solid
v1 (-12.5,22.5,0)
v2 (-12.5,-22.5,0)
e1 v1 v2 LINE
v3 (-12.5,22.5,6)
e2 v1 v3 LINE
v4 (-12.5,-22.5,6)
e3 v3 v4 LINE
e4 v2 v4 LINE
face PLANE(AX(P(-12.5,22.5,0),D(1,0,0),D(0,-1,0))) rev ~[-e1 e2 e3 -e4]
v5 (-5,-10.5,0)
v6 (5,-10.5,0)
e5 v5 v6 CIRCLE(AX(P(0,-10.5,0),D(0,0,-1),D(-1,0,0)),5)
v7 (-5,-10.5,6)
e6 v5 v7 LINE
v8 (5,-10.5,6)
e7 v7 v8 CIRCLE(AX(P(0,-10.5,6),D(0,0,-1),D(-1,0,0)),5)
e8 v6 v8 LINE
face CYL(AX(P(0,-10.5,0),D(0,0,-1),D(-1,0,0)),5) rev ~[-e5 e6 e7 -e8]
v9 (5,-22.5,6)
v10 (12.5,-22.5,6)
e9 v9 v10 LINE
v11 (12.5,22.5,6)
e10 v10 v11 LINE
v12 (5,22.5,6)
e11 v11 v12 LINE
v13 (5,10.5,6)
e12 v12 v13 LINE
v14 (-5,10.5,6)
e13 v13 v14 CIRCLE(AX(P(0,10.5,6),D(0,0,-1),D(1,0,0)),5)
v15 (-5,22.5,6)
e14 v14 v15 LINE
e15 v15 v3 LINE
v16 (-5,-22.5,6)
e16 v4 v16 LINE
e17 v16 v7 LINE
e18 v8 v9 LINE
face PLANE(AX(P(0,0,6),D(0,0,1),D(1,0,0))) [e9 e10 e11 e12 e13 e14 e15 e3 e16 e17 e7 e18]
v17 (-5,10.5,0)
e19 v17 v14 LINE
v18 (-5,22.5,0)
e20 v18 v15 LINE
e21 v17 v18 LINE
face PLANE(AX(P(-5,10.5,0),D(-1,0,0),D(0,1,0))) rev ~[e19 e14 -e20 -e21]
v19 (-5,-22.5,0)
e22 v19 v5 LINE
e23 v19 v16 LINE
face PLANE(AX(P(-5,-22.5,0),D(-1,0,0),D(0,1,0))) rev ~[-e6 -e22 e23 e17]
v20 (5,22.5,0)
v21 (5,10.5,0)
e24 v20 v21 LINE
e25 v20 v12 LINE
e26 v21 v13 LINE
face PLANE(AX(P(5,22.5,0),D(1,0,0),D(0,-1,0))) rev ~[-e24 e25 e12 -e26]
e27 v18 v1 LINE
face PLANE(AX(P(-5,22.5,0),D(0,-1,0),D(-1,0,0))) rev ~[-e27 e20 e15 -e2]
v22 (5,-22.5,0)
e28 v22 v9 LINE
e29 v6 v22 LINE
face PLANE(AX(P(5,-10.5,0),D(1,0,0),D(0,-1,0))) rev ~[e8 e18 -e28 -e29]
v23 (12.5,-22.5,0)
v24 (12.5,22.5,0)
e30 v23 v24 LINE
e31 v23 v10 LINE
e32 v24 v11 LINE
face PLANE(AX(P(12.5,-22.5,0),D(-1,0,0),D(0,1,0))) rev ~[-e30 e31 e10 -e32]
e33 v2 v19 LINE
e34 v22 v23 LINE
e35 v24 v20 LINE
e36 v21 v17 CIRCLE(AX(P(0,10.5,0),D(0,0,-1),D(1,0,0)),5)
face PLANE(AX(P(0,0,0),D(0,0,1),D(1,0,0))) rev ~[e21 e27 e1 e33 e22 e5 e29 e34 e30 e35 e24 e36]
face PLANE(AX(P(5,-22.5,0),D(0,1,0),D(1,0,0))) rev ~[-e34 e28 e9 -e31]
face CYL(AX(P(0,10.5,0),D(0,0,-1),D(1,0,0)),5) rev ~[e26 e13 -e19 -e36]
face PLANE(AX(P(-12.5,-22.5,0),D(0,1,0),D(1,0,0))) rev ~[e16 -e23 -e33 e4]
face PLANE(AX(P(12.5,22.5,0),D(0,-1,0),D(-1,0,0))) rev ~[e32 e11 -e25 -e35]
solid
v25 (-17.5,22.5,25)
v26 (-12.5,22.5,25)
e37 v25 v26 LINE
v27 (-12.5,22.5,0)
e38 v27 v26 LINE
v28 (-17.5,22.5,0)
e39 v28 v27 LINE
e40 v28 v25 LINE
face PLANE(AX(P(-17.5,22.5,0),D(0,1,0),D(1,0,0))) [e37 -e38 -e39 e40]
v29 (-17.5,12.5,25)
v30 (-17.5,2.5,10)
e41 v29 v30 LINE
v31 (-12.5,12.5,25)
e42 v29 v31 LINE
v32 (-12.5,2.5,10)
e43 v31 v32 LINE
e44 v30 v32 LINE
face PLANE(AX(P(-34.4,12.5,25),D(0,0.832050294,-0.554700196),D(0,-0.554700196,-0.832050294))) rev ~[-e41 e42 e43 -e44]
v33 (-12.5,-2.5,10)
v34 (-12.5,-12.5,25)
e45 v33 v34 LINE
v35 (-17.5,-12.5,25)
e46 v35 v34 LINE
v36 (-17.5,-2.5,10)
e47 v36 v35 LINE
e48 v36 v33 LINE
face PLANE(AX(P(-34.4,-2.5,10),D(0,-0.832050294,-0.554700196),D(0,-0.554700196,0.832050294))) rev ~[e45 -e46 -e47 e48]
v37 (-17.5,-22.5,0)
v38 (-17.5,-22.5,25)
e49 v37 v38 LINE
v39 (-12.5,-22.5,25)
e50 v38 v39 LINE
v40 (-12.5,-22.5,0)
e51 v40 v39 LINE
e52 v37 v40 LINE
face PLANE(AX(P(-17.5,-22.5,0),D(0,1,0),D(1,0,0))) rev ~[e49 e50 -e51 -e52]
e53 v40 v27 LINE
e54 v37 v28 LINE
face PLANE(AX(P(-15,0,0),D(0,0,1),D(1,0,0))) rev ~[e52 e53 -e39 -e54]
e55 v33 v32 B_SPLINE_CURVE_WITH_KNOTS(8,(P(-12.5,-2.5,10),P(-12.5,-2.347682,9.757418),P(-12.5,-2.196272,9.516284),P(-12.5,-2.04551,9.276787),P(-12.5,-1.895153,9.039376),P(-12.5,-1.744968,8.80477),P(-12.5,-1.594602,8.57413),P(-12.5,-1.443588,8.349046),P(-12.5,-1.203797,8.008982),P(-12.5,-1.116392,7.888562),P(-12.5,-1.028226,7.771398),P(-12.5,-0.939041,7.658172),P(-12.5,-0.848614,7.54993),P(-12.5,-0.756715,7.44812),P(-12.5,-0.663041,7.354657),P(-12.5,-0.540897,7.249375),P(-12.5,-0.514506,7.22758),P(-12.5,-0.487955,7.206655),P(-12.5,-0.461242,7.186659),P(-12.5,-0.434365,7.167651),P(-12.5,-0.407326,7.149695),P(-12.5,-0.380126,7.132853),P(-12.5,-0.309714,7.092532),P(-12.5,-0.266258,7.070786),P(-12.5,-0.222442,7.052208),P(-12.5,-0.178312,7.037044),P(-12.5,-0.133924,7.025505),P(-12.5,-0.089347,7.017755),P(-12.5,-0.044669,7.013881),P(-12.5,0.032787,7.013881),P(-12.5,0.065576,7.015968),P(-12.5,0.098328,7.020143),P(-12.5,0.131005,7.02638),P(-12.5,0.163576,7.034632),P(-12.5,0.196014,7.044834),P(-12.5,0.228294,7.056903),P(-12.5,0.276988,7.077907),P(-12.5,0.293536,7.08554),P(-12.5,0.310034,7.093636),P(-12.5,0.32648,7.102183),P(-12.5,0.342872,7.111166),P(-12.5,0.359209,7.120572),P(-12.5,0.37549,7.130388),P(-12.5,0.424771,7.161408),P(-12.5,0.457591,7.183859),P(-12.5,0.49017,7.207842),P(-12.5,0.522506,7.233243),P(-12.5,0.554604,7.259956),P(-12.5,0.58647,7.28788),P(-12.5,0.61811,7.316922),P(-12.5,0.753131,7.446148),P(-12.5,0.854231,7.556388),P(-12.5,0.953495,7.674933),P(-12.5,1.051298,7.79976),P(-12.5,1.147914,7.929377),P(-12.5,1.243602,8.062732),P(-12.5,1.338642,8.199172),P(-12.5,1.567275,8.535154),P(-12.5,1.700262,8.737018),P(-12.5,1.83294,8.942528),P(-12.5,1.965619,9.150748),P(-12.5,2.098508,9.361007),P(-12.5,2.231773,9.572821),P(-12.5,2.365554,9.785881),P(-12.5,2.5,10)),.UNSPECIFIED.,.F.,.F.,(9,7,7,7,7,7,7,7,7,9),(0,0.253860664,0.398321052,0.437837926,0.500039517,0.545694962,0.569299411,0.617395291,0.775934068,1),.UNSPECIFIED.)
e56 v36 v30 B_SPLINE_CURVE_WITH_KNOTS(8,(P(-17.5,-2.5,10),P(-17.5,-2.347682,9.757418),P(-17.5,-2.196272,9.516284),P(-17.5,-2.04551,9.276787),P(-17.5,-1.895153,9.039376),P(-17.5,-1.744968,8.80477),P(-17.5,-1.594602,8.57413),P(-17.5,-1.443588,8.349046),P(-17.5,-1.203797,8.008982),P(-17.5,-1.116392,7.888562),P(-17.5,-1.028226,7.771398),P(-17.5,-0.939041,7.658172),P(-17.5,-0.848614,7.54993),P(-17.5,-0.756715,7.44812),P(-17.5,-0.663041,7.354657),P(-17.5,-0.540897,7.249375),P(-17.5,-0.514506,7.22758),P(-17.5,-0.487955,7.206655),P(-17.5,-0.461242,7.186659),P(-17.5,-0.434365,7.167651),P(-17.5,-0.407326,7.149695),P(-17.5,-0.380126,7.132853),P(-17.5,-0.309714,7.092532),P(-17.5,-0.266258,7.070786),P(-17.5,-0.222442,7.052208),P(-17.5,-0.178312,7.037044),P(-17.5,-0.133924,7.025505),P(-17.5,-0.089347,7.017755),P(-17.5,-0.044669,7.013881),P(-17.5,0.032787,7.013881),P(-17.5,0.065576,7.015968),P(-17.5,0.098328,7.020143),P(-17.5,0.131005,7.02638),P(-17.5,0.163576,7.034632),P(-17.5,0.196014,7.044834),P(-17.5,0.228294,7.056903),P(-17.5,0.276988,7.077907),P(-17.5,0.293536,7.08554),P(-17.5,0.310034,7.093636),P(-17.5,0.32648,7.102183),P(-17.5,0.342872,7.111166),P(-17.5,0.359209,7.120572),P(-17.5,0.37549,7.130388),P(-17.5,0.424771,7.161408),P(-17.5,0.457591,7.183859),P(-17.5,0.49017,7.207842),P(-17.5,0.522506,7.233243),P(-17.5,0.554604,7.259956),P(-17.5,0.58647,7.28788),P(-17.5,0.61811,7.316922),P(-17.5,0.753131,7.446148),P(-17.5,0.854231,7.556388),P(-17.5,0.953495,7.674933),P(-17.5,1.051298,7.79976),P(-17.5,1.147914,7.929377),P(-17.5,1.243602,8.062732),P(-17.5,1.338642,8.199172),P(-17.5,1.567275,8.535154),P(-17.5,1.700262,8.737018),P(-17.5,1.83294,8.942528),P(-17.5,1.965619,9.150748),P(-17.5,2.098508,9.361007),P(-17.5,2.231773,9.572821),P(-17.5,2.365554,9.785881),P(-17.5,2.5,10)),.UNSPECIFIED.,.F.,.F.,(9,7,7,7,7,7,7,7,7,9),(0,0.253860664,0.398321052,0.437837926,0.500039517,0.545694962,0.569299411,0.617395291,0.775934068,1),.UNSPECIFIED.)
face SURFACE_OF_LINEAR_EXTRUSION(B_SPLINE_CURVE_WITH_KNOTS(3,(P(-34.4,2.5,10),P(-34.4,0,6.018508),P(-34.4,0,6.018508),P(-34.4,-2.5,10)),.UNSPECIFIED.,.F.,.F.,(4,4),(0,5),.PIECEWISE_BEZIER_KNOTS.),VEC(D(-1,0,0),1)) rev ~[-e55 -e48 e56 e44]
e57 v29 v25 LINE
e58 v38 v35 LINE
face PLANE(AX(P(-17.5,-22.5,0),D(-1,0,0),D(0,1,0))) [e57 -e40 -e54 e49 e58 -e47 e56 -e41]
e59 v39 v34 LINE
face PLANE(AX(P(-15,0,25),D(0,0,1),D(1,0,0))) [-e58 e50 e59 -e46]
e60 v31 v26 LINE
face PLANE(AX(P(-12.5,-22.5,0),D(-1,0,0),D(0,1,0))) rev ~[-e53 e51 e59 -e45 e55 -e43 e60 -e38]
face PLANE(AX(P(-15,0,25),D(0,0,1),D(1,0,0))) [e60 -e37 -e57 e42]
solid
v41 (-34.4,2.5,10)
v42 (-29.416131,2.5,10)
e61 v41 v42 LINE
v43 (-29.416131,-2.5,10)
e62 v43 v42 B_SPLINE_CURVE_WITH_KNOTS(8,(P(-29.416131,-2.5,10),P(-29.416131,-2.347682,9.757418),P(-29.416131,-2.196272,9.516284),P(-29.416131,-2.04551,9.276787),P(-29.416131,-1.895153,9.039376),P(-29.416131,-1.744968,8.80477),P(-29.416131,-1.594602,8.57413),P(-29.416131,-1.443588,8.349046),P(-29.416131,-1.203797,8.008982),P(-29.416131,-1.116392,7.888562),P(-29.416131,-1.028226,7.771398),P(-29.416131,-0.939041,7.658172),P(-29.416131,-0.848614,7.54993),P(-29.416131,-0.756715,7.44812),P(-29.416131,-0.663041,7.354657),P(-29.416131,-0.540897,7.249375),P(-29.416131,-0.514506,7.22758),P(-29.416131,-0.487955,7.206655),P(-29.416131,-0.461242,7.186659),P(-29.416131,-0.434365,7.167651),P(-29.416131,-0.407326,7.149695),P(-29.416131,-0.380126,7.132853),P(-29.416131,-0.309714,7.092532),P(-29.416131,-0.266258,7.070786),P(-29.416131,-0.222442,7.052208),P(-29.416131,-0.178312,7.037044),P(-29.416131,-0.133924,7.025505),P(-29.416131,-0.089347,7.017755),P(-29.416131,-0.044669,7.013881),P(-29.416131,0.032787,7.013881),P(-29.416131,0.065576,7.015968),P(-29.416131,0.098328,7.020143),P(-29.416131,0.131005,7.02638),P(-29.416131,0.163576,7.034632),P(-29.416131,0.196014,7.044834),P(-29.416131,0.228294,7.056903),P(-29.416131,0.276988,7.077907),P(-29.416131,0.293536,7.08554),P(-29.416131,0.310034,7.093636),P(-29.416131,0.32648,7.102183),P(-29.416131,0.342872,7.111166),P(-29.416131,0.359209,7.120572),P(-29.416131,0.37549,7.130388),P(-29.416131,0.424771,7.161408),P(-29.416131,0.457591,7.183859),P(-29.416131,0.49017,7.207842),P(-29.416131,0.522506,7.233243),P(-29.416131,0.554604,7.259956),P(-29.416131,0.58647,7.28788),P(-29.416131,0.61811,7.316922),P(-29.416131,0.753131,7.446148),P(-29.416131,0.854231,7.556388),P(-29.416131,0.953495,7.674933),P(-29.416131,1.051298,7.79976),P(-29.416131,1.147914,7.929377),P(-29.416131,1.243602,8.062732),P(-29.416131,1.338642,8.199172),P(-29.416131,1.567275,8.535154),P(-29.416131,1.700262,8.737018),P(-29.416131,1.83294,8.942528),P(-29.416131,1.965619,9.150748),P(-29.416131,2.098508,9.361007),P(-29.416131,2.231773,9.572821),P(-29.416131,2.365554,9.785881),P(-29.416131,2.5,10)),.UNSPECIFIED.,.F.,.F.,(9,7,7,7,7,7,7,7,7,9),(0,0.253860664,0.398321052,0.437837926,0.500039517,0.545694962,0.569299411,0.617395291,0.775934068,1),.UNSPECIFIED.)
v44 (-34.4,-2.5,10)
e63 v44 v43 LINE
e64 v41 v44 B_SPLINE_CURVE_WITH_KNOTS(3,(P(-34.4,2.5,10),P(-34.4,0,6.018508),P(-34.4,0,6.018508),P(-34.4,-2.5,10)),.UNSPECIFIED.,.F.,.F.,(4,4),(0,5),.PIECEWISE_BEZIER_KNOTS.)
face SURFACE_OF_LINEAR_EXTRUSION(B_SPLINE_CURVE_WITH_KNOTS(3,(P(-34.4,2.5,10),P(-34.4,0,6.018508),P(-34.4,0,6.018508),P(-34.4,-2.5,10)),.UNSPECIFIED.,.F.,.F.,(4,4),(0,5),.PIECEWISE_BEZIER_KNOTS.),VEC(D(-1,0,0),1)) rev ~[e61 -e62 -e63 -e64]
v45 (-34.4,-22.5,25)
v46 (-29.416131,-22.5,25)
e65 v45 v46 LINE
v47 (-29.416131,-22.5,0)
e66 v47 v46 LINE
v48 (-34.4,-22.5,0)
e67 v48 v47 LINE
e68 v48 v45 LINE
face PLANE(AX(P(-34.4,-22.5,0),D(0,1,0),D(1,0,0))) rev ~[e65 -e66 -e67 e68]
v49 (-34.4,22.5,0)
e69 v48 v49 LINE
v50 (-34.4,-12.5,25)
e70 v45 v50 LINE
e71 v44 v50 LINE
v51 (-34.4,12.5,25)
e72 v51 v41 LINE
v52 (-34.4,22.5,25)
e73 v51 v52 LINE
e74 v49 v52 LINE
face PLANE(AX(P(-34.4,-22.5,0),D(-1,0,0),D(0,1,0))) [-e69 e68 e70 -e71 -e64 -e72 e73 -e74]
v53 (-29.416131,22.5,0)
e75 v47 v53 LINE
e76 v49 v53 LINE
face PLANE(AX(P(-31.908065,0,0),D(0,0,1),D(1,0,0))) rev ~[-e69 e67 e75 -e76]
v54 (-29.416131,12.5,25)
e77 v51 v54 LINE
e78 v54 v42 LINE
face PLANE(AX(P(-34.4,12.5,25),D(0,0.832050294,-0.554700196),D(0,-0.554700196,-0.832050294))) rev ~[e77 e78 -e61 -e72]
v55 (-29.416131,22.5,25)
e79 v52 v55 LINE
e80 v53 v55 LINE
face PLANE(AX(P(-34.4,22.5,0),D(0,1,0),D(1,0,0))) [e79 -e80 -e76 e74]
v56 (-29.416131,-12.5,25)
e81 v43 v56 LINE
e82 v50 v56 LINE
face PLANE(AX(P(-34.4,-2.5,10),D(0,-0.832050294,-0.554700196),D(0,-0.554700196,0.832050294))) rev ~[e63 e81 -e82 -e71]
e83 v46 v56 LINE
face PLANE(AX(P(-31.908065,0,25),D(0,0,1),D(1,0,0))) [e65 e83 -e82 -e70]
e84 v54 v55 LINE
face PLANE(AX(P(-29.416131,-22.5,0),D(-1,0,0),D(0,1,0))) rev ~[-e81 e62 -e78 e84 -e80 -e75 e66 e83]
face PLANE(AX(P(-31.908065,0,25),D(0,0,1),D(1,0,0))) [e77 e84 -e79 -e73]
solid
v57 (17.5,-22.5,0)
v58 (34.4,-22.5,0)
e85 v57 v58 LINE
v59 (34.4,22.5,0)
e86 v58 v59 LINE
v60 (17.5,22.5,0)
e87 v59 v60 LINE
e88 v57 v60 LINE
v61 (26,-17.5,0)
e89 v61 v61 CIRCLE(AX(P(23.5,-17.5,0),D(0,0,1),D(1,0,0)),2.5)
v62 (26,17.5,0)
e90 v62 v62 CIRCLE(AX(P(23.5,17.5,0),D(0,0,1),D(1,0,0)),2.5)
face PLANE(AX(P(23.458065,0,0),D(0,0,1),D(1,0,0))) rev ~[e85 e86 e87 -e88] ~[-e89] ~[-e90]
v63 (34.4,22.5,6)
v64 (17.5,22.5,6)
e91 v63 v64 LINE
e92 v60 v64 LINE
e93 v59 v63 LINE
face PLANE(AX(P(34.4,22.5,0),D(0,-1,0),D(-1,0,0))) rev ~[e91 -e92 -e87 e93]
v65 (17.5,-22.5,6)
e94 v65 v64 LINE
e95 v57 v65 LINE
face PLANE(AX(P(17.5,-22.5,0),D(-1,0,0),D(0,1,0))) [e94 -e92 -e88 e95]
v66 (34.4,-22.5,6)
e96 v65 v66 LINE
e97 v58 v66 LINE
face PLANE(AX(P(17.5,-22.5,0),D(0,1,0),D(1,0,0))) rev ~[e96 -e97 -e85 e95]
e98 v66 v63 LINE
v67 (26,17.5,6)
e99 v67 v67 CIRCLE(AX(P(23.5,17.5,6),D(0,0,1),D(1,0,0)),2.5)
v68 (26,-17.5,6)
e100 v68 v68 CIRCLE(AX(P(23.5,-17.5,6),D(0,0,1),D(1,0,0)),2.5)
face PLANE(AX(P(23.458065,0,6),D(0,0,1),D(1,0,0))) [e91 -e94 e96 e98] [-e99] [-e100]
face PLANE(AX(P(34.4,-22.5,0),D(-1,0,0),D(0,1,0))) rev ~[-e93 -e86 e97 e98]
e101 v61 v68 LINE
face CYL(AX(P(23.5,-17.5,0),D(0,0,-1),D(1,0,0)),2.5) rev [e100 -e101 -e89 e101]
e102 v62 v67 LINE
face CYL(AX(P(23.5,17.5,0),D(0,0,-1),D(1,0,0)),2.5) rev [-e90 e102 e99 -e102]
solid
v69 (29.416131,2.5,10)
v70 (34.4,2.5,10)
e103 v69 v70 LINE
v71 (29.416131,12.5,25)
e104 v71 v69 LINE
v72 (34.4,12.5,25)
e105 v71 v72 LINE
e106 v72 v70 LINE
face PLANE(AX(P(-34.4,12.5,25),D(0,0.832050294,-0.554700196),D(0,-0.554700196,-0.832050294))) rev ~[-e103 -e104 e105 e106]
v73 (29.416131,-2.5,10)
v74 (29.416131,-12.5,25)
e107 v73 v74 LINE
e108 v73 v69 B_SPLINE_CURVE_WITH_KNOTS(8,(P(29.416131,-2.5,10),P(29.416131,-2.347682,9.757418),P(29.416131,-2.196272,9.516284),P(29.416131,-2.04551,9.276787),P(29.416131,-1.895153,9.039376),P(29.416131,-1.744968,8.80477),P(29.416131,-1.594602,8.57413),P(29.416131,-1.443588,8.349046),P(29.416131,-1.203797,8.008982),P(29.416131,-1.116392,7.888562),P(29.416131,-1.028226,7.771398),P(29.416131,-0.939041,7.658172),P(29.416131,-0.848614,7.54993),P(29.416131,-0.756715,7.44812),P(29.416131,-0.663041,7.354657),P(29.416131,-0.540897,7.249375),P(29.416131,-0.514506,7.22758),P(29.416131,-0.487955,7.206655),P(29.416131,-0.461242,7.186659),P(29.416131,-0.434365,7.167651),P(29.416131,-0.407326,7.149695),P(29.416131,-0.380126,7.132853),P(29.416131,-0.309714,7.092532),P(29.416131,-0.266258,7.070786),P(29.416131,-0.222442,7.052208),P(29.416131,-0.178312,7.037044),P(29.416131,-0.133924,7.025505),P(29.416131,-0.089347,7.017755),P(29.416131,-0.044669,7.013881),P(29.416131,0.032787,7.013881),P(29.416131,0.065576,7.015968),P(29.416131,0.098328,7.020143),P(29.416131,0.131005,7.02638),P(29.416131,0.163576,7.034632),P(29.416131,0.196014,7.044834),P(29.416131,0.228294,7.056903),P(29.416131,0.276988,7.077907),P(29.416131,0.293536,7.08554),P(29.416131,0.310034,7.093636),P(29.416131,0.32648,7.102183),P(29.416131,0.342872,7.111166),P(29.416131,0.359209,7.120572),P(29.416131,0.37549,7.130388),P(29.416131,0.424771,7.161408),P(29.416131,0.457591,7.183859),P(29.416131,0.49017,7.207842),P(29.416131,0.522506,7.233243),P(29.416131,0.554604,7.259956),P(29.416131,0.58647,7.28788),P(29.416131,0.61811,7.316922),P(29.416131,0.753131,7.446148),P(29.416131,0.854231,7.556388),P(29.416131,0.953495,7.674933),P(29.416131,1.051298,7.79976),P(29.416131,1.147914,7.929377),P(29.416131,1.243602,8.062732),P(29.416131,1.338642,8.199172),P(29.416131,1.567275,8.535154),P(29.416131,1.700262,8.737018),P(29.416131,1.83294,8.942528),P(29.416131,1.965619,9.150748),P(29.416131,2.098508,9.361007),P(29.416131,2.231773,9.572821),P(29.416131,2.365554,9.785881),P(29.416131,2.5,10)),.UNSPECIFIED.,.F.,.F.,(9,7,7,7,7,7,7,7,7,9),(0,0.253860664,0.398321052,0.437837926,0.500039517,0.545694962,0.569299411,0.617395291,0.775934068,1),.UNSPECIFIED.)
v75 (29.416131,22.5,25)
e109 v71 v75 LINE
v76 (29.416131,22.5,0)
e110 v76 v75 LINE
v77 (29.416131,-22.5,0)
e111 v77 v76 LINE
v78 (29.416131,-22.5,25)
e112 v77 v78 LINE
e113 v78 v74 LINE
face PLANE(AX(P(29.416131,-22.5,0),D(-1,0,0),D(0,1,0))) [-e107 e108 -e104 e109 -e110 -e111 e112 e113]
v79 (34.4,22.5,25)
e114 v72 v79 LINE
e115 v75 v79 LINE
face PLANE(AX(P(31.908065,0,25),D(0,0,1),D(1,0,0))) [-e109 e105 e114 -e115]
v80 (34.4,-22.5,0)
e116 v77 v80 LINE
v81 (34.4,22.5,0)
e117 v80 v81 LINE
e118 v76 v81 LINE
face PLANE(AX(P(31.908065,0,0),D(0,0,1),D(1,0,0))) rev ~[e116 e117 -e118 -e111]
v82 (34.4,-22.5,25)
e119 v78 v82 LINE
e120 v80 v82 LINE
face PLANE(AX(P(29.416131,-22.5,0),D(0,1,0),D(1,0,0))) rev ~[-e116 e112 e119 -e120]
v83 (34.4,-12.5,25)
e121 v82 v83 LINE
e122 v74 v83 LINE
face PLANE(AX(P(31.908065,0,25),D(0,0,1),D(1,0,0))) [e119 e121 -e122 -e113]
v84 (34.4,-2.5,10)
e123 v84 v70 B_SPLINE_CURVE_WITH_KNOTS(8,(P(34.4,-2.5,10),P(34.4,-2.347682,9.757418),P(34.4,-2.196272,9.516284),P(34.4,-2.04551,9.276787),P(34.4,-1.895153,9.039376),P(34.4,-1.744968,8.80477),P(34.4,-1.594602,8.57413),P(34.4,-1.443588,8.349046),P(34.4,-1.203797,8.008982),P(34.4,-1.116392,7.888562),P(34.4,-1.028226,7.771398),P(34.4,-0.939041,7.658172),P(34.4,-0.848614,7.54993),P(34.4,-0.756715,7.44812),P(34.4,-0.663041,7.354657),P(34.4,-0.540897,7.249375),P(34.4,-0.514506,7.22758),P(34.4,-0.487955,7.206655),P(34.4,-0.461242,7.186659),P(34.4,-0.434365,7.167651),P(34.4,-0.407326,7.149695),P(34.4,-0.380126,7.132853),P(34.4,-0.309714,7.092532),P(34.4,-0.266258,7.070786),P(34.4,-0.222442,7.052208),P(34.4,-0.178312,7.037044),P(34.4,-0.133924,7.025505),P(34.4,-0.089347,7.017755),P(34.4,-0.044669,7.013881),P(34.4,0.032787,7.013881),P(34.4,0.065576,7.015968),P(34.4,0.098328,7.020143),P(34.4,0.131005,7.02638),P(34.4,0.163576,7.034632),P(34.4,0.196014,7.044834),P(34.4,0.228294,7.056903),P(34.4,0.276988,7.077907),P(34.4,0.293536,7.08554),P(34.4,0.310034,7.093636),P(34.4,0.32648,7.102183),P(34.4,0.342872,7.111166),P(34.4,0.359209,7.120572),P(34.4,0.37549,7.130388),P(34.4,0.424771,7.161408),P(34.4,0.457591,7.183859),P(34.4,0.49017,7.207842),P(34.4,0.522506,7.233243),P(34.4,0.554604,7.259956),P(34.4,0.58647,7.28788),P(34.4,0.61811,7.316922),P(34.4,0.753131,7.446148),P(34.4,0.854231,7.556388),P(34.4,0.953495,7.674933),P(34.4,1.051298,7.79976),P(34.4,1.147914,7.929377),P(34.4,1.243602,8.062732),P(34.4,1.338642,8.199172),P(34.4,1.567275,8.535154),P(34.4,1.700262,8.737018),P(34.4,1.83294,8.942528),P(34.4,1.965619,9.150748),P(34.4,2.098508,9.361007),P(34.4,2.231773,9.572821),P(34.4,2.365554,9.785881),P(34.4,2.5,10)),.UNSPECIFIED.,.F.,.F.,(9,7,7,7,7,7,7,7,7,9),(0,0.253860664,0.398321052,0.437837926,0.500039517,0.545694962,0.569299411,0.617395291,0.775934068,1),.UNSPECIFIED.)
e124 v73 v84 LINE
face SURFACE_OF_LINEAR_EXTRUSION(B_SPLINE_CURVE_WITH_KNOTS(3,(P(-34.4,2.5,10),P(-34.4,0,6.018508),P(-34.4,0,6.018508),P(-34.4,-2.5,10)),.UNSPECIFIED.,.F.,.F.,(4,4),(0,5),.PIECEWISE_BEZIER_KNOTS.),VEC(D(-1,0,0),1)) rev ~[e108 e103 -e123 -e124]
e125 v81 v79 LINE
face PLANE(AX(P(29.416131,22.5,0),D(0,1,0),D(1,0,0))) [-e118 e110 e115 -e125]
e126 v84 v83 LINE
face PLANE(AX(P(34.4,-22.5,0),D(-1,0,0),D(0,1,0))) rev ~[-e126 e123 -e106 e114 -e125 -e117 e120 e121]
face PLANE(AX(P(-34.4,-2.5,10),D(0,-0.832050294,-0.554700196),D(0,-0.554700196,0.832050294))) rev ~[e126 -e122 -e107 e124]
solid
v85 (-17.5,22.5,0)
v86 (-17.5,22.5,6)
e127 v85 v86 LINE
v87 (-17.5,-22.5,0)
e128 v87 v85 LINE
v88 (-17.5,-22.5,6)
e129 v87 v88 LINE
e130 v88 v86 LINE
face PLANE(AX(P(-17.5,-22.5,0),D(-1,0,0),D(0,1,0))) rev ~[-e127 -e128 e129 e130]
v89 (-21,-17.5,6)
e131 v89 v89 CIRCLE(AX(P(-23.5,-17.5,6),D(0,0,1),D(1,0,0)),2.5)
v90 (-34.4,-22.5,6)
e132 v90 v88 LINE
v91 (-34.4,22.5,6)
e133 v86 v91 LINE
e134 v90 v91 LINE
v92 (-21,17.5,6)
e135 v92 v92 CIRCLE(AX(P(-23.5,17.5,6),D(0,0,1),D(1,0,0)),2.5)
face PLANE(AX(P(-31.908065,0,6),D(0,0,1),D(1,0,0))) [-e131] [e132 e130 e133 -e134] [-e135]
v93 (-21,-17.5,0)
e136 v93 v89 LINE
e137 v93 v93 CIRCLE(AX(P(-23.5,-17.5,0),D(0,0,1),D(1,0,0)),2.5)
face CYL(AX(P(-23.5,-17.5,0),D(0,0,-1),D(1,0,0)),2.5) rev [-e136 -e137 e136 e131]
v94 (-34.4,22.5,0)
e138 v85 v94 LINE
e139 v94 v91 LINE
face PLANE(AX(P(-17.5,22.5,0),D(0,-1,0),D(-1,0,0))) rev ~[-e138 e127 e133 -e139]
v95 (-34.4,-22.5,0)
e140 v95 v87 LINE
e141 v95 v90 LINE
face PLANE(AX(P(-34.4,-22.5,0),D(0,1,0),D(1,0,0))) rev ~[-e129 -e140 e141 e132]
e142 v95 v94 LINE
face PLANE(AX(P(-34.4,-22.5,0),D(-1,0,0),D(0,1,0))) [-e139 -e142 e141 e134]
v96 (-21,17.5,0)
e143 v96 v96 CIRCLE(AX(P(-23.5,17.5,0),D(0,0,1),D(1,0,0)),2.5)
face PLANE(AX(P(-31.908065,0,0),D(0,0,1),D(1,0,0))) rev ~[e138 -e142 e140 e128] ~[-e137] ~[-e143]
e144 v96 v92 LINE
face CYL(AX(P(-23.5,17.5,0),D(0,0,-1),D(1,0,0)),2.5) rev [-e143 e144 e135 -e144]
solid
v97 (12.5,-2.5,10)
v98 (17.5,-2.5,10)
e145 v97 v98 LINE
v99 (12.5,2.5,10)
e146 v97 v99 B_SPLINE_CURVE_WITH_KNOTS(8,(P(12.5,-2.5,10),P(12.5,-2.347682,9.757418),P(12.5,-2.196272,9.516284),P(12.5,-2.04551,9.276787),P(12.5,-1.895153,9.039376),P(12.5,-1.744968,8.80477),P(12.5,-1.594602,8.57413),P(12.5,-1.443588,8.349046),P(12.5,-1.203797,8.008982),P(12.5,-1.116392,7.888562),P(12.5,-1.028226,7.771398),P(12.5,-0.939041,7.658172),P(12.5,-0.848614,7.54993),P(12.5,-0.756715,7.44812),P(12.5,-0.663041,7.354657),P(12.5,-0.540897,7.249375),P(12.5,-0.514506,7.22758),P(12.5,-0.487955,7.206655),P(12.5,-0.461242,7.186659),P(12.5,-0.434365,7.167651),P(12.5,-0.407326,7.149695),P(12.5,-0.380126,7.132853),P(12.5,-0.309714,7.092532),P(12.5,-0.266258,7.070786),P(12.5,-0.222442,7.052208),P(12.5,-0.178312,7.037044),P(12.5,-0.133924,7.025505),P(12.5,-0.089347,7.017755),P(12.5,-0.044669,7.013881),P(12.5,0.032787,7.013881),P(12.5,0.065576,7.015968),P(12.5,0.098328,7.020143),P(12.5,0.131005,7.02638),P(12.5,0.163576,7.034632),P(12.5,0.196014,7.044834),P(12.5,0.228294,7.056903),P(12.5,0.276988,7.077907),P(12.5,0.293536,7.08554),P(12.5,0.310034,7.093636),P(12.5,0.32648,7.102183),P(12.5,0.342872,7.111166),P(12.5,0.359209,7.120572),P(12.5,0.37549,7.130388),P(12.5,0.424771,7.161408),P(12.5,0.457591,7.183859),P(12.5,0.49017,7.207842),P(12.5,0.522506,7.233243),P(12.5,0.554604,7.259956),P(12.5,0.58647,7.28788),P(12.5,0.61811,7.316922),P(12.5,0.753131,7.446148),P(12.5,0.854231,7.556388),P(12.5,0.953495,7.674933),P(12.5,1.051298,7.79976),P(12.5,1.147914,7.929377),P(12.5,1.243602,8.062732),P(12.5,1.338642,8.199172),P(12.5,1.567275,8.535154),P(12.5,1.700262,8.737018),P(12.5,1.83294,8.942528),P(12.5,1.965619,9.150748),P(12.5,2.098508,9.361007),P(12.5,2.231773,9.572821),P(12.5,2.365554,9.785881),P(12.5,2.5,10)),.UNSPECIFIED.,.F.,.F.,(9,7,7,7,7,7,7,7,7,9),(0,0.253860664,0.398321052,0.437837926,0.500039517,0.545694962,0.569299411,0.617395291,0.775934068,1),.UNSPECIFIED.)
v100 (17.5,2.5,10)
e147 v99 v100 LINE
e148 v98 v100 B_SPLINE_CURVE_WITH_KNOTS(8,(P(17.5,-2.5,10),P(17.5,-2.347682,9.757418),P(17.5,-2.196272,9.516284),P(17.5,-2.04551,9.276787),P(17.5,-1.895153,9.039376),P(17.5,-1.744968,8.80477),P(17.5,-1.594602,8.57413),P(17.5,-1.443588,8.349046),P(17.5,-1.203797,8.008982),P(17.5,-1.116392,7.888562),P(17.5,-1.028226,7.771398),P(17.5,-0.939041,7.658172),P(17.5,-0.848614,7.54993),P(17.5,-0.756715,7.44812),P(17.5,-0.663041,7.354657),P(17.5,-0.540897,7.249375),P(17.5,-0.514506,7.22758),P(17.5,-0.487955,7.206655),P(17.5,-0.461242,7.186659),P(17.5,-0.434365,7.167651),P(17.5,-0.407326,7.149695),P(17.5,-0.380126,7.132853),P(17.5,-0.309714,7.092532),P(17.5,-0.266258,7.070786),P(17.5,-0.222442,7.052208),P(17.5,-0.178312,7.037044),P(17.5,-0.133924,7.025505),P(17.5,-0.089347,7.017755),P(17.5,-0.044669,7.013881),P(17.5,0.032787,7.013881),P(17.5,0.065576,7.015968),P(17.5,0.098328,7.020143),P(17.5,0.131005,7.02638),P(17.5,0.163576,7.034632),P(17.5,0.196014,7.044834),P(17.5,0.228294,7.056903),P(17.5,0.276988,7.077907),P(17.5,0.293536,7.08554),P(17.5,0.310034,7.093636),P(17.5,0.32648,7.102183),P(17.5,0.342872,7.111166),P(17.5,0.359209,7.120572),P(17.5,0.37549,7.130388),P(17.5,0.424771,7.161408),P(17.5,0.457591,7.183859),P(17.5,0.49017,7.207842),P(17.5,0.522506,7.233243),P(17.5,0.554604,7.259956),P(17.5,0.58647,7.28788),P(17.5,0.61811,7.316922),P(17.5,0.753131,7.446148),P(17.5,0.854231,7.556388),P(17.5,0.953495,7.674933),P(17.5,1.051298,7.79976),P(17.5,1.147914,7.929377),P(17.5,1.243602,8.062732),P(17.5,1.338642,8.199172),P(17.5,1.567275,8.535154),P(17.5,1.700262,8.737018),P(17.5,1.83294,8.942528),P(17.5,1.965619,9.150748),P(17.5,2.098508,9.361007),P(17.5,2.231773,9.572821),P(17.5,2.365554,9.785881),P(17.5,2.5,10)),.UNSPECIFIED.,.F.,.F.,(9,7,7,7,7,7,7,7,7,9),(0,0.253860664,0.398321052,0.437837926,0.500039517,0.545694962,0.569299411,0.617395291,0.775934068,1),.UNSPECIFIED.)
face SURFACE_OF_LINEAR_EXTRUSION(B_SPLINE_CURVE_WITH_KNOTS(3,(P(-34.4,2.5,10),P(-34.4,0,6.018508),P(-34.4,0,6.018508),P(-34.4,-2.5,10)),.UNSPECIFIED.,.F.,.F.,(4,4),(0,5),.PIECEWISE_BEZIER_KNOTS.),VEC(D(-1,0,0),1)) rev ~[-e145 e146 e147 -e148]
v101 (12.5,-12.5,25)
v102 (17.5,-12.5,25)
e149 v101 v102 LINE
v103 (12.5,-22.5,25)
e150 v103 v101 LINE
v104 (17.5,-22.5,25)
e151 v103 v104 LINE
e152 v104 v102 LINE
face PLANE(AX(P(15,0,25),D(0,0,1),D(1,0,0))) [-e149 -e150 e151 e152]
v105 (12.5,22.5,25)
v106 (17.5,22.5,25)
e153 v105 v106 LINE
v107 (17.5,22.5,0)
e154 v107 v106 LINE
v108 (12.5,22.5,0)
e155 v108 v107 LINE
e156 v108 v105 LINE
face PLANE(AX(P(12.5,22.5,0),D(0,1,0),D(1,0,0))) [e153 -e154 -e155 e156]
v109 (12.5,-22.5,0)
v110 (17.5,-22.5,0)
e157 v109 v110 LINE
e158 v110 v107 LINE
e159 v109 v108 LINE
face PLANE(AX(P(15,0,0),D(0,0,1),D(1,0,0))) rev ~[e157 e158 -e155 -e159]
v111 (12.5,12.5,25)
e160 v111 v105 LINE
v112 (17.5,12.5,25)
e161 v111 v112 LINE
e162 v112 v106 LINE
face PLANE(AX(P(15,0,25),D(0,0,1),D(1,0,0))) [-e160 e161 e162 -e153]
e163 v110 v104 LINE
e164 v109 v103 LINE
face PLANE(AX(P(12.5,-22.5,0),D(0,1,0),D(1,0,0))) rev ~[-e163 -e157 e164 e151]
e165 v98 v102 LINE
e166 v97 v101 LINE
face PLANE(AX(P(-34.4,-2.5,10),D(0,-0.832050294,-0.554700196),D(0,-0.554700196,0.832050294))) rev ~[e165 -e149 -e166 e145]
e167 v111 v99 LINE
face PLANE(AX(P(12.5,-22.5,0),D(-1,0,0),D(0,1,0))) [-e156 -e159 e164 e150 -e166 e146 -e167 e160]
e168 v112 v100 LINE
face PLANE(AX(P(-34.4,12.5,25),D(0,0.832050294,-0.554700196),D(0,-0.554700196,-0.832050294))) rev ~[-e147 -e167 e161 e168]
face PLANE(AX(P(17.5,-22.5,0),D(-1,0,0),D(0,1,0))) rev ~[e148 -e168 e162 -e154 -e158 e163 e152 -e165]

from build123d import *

# Parameters (mm, degrees)
F0_W     = 4.9838690698
F0_H     = 45
F0_W_2   = 11.9161309302
F0_R     = 2.5
F1_DEPTH = 6
F2_DEPTH = 25
F0_W_3   = 5
F4_DEPTH = 68.801


with BuildPart() as f1:
    # F0 (on Top) → F1 (new body)
    with BuildSketch(Plane.XY):
        with Locations((-31.9080654651, 0)):
            Rectangle(F0_W, F0_H)
        with Locations((-23.4580654651, 0)):
            Rectangle(F0_W_2, F0_H)
        with Locations((-23.5, -17.5)):
            Circle(F0_R, mode=Mode.SUBTRACT)
        with Locations((-23.5, 17.5)):
            Circle(F0_R, mode=Mode.SUBTRACT)
    extrude(amount=F1_DEPTH)


with BuildPart() as f1b:
    # F0 (on Top) → F1, piece 2 (new body)
    with BuildSketch(Plane.XY):
        with BuildLine():
            Line((5, -22.5), (12.5, -22.5))
            Line((12.5, -22.5), (12.5, 22.5))
            Line((12.5, 22.5), (5, 22.5))
            Line((5, 22.5), (5, 10.5))
            ThreePointArc((5, 10.5), (0, 5.5), (-5, 10.5))
            Line((-5, 10.5), (-5, 22.5))
            Line((-5, 22.5), (-12.5, 22.5))
            Line((-12.5, 22.5), (-12.5, -22.5))
            Line((-12.5, -22.5), (-5, -22.5))
            Line((-5, -22.5), (-5, -10.5))
            ThreePointArc((-5, -10.5), (0, -5.5), (5, -10.5))
            Line((5, -10.5), (5, -22.5))
        make_face()
    extrude(amount=F1_DEPTH)


with BuildPart() as f1c:
    # F0 (on Top) → F1, piece 3 (new body)
    with BuildSketch(Plane.XY):
        with Locations((23.4580654651, 0)):
            Rectangle(F0_W_2, F0_H)
        with Locations((23.5, -17.5)):
            Circle(F0_R, mode=Mode.SUBTRACT)
        with Locations((23.5, 17.5)):
            Circle(F0_R, mode=Mode.SUBTRACT)
        with Locations((31.9080654651, 0)):
            Rectangle(F0_W, F0_H)
    extrude(amount=F1_DEPTH)


with BuildPart() as f2:
    # F0 (on Top) → F2 (new body)
    with BuildSketch(Plane.XY):
        with Locations((-31.9080654651, 0)):
            Rectangle(F0_W, F0_H)
    extrude(amount=F2_DEPTH)


with BuildPart() as f2b:
    # F0 (on Top) → F2, piece 2 (new body)
    with BuildSketch(Plane.XY):
        with Locations((-15, 0)):
            Rectangle(F0_W_3, F0_H)
    extrude(amount=F2_DEPTH)


with BuildPart() as f2c:
    # F0 (on Top) → F2, piece 3 (new body)
    with BuildSketch(Plane.XY):
        with Locations((15, 0)):
            Rectangle(F0_W_3, F0_H)
    extrude(amount=F2_DEPTH)


with BuildPart() as f2d:
    # F0 (on Top) → F2, piece 4 (new body)
    with BuildSketch(Plane.XY):
        with Locations((31.9080654651, 0)):
            Rectangle(F0_W, F0_H)
    extrude(amount=F2_DEPTH)


with BuildPart() as f4_tool:
    # F3 (on face) → F4 (new body, through all)
    with BuildSketch(Plane(origin=(-34.4, 0, 0), x_dir=(0, -1, 0), z_dir=(-1, 0, 0))):
        with BuildLine():
            add(Edge.make_bspline(
                [(-2.5, 10), (0, 6.01850776), (0, 6.01850776), (2.5, 10)],
                knots=[0, 0, 0, 0, 5, 5, 5, 5], degree=3))
            Line((2.5, 10), (12.5, 25))
            Line((12.5, 25), (-12.5, 25))
            Line((-12.5, 25), (-2.5, 10))
        make_face()
    extrude(amount=-F4_DEPTH)


with BuildPart() as f2_1:
    add(f2.part)

    # F4: cut by f4_tool
    add(f4_tool.part, mode=Mode.SUBTRACT)


with BuildPart() as f2b_1:
    add(f2b.part)

    # F4: cut by f4_tool
    add(f4_tool.part, mode=Mode.SUBTRACT)


with BuildPart() as f2c_1:
    add(f2c.part)

    # F4: cut by f4_tool
    add(f4_tool.part, mode=Mode.SUBTRACT)


with BuildPart() as f2d_1:
    add(f2d.part)

    # F4: cut by f4_tool
    add(f4_tool.part, mode=Mode.SUBTRACT)


solid = Compound([f1.part, f1b.part, f1c.part, f2_1.part, f2b_1.part, f2c_1.part, f2d_1.part])
